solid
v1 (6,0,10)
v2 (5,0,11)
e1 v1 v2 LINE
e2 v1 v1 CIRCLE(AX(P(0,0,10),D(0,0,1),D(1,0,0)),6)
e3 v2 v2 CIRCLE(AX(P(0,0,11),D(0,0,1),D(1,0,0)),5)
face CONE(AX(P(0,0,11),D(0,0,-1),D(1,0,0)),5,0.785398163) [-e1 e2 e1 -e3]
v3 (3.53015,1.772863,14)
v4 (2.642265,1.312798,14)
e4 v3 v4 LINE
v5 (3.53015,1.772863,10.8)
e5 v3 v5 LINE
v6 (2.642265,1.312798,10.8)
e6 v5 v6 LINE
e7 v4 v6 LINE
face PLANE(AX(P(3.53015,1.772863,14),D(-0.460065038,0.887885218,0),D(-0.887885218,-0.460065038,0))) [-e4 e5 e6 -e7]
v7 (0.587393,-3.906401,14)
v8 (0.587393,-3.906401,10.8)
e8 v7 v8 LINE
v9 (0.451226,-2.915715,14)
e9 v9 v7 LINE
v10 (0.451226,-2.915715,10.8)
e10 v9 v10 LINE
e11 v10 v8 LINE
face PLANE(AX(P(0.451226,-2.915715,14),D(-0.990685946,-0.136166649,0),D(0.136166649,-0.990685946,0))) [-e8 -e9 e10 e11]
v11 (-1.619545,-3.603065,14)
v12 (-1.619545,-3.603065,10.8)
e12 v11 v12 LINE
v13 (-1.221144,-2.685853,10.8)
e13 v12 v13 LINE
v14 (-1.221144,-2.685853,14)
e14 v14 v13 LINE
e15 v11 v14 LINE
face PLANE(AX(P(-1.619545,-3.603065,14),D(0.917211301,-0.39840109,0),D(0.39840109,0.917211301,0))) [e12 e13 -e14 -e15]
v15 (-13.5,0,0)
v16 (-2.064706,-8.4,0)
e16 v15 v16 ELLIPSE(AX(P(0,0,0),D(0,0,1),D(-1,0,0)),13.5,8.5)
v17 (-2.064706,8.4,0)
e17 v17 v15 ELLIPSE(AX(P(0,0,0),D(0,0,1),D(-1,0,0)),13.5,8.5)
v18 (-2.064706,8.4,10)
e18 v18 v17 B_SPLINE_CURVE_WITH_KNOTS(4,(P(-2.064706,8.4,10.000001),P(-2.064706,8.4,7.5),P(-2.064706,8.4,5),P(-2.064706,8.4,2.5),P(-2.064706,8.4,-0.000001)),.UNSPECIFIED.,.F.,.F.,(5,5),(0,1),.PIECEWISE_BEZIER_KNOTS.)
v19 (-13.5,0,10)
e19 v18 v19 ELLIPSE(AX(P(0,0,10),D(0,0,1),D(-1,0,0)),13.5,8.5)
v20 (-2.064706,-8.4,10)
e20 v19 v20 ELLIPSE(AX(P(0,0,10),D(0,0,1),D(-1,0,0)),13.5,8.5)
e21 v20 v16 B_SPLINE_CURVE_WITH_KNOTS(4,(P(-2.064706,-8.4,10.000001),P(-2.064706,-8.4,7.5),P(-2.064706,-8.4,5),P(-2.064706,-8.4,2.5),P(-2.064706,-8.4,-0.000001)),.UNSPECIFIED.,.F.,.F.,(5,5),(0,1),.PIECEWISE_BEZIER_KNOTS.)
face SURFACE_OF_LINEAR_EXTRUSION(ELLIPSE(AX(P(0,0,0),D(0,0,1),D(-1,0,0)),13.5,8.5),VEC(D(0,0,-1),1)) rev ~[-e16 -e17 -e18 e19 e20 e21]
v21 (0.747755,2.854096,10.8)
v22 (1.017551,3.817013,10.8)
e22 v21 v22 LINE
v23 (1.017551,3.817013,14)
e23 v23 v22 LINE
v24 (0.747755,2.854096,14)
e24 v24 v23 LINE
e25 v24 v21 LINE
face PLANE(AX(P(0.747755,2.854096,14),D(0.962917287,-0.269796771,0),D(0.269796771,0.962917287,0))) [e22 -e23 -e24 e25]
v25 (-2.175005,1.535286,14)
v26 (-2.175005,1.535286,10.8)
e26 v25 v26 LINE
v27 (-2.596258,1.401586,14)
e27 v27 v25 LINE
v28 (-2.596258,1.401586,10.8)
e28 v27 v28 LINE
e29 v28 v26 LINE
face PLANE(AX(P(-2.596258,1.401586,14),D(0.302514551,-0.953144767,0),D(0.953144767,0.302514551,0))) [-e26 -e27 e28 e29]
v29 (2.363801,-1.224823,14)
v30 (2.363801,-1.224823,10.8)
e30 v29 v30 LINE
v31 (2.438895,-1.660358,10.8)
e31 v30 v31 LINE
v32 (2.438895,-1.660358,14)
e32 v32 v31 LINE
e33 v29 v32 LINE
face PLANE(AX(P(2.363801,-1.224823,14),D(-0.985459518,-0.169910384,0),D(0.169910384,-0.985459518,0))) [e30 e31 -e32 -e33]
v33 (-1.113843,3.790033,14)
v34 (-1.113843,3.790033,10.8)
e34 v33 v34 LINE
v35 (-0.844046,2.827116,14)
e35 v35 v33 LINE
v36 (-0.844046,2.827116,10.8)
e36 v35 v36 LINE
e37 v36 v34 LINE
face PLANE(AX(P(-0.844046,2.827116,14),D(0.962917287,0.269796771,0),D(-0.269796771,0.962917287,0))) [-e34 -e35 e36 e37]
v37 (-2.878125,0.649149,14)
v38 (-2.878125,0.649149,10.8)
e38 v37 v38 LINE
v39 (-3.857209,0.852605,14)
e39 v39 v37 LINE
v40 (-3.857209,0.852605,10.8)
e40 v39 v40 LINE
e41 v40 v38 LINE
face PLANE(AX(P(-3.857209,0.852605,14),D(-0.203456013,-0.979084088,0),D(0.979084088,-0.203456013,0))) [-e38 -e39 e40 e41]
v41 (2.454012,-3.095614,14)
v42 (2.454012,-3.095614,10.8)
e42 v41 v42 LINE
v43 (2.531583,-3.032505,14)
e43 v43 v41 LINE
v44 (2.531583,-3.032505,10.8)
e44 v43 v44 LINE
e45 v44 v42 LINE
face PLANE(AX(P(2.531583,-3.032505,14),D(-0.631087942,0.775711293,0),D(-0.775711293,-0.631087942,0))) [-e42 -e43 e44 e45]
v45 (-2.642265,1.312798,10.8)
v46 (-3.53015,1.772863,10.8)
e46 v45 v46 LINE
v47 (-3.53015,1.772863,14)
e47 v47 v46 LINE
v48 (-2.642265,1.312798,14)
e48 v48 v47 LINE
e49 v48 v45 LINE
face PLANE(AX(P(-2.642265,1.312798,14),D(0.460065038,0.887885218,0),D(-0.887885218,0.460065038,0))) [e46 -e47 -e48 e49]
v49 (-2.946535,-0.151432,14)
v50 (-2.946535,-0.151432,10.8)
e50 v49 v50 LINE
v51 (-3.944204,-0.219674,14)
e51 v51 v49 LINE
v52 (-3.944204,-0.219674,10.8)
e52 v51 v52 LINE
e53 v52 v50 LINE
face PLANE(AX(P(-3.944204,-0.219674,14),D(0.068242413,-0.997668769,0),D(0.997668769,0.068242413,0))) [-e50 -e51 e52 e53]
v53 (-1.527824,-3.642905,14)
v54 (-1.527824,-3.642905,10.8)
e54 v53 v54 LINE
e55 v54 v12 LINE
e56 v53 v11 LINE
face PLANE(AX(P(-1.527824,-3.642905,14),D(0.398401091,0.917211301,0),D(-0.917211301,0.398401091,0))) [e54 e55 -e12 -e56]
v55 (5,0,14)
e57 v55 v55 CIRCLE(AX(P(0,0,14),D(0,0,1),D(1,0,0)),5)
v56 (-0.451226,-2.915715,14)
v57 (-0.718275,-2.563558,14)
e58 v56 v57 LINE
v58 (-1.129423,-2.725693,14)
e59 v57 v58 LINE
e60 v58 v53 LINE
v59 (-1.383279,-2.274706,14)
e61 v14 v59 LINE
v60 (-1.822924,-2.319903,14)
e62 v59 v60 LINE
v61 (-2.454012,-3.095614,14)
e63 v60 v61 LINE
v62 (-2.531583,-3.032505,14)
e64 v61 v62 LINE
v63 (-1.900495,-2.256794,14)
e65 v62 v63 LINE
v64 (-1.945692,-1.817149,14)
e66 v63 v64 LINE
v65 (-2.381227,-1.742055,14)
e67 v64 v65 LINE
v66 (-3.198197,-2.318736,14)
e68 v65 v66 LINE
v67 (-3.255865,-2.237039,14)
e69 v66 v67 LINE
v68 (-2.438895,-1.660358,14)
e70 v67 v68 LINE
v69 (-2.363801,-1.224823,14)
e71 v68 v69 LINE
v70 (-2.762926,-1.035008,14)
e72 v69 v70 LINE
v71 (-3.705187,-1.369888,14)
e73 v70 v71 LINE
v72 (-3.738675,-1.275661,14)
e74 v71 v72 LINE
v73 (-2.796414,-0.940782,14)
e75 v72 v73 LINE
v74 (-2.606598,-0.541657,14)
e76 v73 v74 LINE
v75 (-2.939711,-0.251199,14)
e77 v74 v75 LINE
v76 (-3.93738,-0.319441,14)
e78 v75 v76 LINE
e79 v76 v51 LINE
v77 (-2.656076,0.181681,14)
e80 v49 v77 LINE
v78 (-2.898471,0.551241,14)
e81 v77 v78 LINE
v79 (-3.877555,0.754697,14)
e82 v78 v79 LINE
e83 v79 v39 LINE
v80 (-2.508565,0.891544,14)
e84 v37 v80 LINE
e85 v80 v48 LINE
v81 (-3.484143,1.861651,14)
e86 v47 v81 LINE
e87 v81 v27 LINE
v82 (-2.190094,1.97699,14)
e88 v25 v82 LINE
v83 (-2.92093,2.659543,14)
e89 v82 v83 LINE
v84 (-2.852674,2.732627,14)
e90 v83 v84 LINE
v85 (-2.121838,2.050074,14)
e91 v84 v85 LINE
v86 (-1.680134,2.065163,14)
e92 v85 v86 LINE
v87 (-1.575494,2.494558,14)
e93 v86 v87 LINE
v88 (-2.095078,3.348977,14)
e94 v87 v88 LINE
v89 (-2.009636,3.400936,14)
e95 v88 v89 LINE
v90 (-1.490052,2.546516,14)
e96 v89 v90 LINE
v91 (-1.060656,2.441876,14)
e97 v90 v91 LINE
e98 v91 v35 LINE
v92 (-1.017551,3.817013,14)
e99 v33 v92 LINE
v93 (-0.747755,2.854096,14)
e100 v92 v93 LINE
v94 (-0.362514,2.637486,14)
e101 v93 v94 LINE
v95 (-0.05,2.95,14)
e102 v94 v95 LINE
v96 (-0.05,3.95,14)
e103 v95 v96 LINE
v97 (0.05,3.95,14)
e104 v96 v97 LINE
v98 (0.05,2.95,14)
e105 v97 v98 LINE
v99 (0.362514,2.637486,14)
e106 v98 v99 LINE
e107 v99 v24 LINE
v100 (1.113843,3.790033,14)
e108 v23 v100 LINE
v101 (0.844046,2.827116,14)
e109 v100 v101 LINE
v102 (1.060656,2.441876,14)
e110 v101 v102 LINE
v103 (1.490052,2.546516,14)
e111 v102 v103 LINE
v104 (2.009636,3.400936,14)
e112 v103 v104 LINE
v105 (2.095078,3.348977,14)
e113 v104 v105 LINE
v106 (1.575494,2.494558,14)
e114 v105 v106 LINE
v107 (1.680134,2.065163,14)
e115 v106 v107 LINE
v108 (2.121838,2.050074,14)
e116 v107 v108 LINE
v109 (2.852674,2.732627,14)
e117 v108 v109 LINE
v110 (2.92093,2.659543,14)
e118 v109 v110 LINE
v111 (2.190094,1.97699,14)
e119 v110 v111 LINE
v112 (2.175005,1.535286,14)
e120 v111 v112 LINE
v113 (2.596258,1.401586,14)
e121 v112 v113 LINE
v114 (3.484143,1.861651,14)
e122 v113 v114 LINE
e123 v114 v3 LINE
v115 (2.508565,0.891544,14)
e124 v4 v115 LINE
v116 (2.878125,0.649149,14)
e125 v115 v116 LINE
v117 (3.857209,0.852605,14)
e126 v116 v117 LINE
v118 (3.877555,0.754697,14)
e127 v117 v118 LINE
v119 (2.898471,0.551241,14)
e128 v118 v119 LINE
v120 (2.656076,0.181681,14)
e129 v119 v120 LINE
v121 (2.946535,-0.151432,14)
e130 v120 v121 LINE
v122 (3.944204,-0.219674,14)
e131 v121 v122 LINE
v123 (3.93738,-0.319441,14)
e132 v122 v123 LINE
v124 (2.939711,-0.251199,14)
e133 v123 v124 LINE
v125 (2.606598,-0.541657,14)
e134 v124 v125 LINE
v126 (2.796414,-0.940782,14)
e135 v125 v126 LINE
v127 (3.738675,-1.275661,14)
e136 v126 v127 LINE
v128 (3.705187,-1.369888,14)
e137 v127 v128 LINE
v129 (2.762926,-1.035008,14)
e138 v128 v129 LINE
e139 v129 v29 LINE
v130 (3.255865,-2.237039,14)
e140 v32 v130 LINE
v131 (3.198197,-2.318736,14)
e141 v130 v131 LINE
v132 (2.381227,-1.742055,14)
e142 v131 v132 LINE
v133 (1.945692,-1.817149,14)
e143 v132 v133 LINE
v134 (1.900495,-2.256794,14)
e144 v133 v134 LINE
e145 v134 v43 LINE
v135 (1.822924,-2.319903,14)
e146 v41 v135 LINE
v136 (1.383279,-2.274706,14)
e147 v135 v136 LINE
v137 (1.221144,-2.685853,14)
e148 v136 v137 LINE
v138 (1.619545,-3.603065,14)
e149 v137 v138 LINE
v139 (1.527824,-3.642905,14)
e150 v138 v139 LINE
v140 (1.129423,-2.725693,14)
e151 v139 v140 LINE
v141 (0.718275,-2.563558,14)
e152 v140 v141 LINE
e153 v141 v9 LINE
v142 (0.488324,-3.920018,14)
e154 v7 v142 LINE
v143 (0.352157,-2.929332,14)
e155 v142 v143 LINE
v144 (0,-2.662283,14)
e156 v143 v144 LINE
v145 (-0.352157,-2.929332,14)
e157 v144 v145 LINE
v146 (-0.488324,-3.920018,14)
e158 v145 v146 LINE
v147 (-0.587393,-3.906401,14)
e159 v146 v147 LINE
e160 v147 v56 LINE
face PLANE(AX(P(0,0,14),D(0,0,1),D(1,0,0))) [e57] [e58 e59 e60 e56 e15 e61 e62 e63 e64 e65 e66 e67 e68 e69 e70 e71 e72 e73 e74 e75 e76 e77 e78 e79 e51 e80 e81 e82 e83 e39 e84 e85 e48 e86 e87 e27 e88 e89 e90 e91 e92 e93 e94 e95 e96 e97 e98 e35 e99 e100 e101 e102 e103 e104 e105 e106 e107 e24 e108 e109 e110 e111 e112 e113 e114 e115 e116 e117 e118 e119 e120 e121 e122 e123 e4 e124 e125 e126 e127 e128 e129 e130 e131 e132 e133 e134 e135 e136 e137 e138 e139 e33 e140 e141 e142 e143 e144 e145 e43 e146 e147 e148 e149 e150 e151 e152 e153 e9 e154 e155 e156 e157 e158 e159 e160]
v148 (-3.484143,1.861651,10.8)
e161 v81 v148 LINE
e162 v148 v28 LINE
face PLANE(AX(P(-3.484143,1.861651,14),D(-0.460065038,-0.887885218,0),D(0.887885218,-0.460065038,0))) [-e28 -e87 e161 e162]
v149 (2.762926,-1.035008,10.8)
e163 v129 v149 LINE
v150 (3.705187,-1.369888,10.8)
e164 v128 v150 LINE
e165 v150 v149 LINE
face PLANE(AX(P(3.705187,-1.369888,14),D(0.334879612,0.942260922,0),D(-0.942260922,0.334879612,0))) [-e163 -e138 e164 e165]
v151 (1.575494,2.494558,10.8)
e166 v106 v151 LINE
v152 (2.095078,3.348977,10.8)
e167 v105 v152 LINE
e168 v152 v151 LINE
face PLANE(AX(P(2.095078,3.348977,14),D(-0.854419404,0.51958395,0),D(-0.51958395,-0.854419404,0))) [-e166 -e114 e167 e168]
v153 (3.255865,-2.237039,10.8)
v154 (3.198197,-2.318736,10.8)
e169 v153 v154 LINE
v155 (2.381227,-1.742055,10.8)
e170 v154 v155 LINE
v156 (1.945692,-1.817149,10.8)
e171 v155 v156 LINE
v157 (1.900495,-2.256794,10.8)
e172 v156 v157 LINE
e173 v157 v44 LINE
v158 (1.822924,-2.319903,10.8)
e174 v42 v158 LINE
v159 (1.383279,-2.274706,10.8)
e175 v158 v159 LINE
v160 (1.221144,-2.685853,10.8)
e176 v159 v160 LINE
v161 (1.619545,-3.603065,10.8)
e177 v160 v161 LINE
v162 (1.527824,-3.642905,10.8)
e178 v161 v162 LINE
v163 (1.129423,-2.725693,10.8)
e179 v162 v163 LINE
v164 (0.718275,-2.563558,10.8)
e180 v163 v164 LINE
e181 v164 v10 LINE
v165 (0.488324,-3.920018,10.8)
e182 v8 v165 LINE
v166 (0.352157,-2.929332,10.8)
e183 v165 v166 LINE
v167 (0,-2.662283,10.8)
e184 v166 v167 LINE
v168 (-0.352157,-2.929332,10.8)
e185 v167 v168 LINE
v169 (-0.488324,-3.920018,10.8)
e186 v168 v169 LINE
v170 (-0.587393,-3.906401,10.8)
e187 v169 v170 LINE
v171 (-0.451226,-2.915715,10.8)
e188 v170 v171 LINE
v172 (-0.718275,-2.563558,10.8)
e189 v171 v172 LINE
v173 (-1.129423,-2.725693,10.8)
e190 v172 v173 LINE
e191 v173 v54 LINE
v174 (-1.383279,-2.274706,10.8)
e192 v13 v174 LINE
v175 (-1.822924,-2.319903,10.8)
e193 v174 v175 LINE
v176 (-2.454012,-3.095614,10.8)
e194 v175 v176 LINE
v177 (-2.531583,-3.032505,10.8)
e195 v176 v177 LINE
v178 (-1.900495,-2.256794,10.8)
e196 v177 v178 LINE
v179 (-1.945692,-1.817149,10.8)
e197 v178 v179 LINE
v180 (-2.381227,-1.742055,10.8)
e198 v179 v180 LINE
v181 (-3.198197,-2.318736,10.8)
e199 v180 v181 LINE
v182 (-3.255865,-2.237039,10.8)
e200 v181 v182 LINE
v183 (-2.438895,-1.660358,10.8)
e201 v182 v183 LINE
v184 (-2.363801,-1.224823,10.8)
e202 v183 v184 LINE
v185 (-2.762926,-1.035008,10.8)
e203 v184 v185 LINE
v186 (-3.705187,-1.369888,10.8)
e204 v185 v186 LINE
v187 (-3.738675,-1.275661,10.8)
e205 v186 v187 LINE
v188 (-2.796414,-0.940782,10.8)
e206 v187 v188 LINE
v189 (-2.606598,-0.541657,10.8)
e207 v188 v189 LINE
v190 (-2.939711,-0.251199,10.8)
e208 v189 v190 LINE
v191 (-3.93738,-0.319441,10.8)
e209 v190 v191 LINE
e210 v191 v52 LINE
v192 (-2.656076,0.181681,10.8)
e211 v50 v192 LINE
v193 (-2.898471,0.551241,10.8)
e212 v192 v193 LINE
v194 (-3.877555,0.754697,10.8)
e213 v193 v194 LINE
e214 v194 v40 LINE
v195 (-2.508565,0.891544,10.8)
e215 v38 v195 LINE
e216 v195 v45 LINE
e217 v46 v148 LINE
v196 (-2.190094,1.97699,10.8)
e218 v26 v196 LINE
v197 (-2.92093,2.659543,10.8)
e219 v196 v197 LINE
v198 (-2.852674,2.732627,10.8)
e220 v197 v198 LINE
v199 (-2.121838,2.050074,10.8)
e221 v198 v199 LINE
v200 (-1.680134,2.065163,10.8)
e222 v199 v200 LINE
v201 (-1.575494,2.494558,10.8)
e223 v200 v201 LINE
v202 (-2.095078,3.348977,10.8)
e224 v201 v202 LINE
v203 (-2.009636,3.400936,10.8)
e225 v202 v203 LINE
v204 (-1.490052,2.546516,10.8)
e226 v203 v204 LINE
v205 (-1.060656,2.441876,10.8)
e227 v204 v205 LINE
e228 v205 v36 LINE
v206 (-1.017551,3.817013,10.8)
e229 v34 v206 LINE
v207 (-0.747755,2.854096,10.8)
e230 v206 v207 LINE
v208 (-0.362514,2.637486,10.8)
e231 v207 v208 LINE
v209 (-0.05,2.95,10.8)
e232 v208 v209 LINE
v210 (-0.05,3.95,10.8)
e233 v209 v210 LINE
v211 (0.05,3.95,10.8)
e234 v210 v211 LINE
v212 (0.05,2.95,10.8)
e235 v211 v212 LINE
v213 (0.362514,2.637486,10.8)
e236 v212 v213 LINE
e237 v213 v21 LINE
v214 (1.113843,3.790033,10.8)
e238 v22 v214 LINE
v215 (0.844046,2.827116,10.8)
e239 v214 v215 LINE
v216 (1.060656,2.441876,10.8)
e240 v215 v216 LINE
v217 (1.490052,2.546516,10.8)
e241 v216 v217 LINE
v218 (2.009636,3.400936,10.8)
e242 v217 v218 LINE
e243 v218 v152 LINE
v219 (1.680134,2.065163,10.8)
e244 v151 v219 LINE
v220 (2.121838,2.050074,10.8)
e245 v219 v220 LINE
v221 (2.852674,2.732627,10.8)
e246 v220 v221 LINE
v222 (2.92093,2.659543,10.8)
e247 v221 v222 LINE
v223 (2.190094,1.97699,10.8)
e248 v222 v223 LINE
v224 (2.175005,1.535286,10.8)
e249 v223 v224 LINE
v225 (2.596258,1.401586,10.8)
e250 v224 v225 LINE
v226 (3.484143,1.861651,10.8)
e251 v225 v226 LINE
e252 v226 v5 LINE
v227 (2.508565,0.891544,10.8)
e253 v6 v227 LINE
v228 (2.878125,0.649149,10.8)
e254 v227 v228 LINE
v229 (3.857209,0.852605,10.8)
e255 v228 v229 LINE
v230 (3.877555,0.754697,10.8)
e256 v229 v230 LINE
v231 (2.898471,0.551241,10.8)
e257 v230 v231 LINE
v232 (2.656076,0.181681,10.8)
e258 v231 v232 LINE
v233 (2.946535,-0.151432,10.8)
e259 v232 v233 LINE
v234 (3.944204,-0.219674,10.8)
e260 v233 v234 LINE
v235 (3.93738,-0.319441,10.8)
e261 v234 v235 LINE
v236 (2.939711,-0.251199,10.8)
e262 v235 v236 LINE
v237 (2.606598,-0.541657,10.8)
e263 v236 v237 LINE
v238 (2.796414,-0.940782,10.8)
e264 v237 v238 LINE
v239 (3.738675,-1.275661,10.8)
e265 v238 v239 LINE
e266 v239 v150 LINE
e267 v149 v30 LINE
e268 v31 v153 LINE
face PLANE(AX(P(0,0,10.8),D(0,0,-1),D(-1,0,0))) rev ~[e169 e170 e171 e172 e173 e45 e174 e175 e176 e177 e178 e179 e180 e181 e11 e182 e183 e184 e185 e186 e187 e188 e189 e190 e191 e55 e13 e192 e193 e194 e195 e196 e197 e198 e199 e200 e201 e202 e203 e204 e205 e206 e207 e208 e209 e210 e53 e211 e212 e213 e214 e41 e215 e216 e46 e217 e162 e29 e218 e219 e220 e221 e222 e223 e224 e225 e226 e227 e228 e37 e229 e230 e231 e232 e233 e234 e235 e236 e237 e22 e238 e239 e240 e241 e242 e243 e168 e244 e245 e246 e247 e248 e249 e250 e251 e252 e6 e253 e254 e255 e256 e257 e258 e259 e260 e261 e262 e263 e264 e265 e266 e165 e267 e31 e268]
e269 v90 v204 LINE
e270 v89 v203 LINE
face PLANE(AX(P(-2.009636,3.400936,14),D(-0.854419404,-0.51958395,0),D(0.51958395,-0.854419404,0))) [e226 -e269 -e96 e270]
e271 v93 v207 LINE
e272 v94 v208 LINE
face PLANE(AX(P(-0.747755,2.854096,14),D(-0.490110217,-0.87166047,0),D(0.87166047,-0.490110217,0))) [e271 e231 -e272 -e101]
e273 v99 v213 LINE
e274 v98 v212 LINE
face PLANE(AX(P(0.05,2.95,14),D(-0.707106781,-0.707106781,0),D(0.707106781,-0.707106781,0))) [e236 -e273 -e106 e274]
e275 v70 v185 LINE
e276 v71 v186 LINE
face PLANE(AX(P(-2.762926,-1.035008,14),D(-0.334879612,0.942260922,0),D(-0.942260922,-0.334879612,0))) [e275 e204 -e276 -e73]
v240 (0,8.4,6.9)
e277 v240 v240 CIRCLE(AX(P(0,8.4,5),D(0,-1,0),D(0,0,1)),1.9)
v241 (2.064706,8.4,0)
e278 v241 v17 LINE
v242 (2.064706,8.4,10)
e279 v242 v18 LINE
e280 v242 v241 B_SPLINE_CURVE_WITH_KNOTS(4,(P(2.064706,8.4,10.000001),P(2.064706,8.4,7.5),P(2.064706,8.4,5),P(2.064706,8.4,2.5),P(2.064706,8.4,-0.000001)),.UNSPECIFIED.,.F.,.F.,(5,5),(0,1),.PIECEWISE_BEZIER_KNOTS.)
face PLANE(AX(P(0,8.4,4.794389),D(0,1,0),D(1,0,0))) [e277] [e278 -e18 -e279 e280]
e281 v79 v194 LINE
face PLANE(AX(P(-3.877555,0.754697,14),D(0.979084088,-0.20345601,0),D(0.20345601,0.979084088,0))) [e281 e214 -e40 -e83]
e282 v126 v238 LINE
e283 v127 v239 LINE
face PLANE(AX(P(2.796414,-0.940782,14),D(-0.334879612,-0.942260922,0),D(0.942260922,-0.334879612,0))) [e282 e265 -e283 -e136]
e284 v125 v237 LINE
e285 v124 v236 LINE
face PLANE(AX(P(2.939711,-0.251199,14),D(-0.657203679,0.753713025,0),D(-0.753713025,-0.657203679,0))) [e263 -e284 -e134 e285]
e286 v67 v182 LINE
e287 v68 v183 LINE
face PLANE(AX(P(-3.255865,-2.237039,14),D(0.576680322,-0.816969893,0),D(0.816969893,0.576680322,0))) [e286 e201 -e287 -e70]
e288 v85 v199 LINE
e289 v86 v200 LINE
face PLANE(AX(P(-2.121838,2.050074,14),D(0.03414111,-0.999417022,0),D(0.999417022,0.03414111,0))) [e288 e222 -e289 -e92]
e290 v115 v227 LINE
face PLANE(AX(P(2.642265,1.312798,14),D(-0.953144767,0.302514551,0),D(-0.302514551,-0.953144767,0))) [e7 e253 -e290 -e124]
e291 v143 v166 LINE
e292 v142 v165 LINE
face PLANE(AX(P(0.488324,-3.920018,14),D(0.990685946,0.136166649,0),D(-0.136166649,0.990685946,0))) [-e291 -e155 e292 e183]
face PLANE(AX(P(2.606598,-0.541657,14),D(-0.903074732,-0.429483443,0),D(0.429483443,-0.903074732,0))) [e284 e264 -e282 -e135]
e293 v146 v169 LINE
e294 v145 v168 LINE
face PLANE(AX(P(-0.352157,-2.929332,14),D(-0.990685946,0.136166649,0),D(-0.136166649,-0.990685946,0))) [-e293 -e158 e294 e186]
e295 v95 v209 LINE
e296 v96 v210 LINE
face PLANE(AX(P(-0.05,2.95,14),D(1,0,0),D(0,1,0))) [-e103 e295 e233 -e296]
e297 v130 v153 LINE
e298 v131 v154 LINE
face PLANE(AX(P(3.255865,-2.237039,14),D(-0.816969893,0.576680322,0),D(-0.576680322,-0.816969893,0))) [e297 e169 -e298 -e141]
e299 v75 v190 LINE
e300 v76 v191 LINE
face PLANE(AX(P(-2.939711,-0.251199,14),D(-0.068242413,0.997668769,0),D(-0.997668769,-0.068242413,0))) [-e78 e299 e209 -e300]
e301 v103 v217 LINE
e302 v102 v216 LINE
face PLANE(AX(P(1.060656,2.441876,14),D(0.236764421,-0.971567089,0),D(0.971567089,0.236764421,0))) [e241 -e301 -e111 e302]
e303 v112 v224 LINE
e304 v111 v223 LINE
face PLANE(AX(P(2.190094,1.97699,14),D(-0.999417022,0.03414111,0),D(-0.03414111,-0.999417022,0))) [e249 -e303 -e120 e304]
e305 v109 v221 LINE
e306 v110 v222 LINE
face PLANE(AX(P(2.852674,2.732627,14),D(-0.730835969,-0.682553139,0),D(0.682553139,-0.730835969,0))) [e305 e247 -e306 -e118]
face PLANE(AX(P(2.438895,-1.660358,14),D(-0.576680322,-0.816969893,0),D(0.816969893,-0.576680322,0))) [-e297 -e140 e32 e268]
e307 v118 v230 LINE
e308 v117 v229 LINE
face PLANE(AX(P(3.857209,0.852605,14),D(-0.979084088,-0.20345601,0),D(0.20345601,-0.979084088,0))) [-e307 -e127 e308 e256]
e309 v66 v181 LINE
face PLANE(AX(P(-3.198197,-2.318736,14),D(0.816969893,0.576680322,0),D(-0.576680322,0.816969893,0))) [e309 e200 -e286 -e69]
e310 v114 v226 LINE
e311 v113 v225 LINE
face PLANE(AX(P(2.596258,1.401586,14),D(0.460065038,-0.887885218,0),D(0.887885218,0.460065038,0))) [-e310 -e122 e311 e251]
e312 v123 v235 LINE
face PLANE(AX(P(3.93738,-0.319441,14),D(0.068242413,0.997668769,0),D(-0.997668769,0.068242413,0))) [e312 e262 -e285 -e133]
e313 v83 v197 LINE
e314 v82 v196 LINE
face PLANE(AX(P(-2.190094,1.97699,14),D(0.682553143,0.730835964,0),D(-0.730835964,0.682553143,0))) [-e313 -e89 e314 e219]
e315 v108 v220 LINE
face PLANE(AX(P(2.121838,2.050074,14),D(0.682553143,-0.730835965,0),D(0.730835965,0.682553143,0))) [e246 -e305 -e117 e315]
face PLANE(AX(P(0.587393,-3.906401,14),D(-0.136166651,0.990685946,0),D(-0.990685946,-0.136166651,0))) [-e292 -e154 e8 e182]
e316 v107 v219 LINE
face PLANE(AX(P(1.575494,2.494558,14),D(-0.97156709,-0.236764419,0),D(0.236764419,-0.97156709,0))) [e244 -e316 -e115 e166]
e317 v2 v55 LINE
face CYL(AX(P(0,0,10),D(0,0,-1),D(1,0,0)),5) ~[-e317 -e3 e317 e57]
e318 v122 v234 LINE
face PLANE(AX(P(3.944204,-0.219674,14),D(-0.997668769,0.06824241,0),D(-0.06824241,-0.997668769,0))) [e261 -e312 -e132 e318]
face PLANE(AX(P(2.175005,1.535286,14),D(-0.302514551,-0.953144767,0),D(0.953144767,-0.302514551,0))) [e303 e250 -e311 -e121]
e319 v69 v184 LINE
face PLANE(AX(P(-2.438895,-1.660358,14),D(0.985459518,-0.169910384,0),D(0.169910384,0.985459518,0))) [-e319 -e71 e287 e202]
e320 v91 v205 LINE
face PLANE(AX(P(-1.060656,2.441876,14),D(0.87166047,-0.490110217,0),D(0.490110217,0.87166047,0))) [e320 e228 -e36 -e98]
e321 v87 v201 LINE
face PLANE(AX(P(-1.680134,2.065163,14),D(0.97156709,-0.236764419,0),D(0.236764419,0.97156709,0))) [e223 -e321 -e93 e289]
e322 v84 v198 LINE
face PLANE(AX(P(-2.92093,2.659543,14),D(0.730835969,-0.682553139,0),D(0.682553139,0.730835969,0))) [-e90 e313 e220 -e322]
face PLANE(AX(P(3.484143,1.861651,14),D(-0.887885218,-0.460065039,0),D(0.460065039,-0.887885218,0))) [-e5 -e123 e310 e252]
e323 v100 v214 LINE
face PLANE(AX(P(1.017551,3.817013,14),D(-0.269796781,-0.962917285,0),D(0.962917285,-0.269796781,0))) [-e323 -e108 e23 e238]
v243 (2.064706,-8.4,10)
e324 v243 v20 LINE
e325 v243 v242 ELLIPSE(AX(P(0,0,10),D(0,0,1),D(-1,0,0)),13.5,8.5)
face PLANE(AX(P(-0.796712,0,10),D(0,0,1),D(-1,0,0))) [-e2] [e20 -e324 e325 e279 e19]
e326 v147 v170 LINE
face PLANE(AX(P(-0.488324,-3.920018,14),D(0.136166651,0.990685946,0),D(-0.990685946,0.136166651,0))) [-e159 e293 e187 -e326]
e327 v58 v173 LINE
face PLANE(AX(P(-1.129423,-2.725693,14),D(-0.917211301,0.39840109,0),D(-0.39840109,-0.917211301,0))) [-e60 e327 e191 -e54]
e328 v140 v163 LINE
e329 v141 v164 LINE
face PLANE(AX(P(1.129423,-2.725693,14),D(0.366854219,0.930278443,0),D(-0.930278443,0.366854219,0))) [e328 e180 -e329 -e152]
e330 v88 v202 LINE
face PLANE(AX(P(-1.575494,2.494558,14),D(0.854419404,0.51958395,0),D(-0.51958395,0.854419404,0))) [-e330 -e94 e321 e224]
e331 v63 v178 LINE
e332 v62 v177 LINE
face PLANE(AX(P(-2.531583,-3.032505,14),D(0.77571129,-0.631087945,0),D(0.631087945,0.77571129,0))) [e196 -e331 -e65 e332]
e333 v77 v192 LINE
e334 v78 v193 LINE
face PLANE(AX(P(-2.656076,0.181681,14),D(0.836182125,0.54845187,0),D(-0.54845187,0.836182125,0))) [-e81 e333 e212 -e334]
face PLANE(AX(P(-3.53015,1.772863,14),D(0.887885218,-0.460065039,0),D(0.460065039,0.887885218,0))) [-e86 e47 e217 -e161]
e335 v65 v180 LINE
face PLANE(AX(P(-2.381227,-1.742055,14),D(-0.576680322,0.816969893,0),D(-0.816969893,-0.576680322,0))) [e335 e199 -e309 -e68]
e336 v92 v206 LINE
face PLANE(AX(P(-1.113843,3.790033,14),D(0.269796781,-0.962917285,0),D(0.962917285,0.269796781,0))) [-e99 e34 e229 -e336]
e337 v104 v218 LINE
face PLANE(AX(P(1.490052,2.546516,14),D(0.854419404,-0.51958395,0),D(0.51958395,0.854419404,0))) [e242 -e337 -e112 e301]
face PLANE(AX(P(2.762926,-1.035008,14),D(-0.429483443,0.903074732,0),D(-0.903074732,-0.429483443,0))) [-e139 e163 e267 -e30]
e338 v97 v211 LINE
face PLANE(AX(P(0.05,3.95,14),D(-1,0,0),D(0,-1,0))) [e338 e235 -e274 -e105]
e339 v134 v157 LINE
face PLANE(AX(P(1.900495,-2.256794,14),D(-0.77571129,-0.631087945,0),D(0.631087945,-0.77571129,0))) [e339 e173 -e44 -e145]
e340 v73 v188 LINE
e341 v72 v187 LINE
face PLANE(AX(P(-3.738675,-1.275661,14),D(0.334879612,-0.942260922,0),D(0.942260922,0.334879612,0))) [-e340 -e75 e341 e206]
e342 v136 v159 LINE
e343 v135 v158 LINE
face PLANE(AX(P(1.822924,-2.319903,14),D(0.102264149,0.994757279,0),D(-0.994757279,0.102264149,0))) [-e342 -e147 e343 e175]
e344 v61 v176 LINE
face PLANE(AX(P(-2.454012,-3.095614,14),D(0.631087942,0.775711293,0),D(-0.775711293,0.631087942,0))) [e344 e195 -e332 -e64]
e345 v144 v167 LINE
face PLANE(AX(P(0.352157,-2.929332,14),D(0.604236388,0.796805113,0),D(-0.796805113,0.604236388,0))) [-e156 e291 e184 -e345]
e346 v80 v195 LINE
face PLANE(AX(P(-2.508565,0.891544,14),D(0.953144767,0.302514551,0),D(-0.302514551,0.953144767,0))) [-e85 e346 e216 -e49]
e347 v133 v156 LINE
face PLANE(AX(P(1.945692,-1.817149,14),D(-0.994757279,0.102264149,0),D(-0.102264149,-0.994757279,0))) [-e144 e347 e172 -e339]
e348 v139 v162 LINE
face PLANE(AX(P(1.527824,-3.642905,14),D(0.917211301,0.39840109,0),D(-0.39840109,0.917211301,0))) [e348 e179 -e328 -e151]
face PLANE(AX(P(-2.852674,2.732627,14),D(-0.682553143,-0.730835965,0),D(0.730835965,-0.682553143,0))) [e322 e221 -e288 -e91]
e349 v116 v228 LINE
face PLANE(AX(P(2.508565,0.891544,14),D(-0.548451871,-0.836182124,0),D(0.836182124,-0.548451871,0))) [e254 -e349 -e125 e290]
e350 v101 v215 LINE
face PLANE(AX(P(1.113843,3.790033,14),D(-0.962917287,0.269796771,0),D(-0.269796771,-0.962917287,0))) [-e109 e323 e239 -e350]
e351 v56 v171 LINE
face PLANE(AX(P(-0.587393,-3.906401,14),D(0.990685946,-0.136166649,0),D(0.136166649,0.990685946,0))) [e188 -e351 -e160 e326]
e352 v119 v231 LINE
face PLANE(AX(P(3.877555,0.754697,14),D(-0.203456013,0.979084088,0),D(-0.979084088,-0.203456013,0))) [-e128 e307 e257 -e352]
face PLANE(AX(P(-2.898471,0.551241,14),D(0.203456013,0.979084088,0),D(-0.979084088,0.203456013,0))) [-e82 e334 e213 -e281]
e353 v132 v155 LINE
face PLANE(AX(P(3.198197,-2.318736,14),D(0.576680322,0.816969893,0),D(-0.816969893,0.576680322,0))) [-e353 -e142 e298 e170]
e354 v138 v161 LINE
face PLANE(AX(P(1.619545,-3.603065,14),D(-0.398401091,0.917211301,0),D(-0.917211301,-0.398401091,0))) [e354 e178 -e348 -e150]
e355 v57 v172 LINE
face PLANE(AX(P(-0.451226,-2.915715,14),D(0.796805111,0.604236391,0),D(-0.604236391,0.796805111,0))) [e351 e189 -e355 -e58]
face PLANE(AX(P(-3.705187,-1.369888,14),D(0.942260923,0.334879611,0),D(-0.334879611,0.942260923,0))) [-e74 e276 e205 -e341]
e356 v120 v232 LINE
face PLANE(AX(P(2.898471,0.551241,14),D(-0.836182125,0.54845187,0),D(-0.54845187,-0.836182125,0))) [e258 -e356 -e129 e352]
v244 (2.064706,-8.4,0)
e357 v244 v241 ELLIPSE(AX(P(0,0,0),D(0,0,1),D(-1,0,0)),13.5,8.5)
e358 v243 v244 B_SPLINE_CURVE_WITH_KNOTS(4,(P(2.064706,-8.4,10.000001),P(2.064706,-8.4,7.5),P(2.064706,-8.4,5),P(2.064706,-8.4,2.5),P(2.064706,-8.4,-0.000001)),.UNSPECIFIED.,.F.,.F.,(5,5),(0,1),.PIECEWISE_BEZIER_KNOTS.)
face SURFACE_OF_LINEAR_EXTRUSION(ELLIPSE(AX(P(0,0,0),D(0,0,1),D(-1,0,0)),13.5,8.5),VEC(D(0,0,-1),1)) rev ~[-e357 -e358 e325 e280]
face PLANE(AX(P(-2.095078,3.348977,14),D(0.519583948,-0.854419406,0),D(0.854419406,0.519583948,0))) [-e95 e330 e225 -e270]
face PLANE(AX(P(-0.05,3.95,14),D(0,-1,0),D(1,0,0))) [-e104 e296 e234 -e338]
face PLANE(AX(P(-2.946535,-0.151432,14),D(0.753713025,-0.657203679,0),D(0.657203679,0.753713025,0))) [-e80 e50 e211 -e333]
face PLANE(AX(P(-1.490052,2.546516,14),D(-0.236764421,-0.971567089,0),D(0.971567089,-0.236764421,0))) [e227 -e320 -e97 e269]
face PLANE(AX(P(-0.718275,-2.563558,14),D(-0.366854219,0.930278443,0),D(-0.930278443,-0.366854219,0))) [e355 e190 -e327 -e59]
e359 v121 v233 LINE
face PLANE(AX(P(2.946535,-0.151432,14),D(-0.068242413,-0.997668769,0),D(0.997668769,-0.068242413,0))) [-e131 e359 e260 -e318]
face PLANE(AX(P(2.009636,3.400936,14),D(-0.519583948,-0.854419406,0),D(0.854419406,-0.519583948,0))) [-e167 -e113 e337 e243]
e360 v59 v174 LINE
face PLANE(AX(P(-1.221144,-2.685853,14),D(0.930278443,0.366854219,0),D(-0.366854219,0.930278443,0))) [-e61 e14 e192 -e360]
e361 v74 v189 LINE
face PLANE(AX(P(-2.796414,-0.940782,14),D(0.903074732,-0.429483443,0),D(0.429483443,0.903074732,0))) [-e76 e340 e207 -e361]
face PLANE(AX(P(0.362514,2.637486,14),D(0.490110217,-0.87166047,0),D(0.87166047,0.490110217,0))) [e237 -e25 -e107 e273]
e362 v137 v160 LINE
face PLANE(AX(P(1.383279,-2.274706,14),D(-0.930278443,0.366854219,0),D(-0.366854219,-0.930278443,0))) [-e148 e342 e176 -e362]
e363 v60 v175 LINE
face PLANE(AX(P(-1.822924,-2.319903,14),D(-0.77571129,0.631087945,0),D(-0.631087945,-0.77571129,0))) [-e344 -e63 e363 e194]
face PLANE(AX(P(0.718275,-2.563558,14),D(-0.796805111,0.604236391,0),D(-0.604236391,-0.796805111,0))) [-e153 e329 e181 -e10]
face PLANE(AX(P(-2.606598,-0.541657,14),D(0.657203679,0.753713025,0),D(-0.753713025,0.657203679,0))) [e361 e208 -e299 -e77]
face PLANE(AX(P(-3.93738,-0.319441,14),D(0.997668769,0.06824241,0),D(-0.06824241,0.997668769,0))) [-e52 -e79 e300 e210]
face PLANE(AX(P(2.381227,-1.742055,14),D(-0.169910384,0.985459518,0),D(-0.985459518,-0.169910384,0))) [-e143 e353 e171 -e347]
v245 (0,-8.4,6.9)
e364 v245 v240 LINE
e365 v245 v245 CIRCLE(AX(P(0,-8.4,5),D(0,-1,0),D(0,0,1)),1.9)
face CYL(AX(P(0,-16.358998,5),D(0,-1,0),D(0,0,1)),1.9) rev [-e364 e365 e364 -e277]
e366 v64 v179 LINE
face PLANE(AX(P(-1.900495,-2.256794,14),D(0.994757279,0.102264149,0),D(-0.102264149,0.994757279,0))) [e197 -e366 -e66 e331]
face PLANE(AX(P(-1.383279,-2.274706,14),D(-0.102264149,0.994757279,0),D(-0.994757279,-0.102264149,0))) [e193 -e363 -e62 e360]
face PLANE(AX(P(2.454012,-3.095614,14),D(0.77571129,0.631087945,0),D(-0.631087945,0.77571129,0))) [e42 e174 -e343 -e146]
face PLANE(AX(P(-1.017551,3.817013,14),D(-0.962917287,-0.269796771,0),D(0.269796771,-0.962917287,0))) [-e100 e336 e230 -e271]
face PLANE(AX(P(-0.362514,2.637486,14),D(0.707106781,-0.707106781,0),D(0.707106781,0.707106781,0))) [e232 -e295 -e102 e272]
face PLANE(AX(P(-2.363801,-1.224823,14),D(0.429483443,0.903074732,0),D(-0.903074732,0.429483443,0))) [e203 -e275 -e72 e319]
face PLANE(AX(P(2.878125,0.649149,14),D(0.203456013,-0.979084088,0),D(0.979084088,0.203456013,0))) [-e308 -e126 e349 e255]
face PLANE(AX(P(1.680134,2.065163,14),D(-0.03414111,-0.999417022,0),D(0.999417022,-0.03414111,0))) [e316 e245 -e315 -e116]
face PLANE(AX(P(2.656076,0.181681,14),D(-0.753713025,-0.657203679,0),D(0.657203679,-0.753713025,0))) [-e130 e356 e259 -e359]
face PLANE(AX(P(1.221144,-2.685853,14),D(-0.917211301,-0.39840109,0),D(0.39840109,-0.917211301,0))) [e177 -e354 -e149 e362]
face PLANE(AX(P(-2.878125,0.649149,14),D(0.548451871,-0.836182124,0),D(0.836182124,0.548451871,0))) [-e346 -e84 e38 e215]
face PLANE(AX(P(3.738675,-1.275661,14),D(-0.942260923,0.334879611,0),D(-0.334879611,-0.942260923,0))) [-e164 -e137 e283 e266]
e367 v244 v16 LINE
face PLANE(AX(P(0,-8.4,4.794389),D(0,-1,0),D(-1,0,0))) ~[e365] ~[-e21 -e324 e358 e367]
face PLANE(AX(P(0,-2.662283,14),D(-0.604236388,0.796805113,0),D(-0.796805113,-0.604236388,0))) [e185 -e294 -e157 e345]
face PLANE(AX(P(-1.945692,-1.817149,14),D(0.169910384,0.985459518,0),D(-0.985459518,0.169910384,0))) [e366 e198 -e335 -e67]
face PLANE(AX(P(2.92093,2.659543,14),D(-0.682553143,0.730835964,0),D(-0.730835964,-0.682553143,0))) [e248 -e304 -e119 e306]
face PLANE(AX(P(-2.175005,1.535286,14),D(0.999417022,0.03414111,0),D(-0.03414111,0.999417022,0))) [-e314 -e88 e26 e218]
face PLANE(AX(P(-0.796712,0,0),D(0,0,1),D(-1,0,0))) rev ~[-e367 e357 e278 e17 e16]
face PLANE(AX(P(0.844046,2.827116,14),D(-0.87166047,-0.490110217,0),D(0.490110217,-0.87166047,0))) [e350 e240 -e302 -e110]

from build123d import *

# Parameters (mm, degrees)
SKETCH_1_RX              = 13.5
SKETCH_1_RY              = 8.5
EXTRUDE_1_DEPTH          = 10
CUT_EXTRUDE_START        = 18.4
SKETCH_2_W               = 5
SKETCH_2_H               = 16.987350845
CUT_EXTRUDE_2_DEPTH      = 10
CUT_EXTRUDE_3_DEPTH      = 24.758998465
CUT_EXTRUDE_3_DEPTH_BACK = 24.758998465
SKETCH_3_R               = 1.9
SKETCH_6_R               = 5
EXTRUDE_3_DEPTH          = 4
CUT_EXTRUDE_5_DEPTH      = 3.2
CHAMFER_1_SIZE           = 1


with BuildPart() as part:
    # ｽｹｯﾁ1 → ﾎﾞｽ - 押し出し1 (new body)
    with BuildSketch(Plane.XY):
        with Locations(Location((0, 0), (0, 0, 180))):
            Ellipse(SKETCH_1_RX, SKETCH_1_RY)
    extrude(amount=EXTRUDE_1_DEPTH)

    # ｽｹｯﾁ2 → ｶｯﾄ - 押し出し2 (cut)
    with BuildSketch(Plane(origin=(0, 0, 0), x_dir=(1, 0, 0), z_dir=(0, 1, 0)).offset(CUT_EXTRUDE_START)):
        with Locations((0, -4.794388707)):
            Rectangle(SKETCH_2_W, SKETCH_2_H)
    cut_extrude_2 = extrude(amount=-CUT_EXTRUDE_2_DEPTH, mode=Mode.SUBTRACT)

    # ﾐﾗｰ1: ｶｯﾄ - 押し出し2 across plane
    add(cut_extrude_2.mirror(Plane.ZX), mode=Mode.SUBTRACT)

    # ｽｹｯﾁ3 → ｶｯﾄ - 押し出し3 (cut, two sides: drawn at the far end of the back side and taken through both)
    with BuildSketch(Plane(origin=(0, 8.4, 0), x_dir=(1, 0, 0), z_dir=(0, 1, 0)).offset(-CUT_EXTRUDE_3_DEPTH_BACK)):
        with Locations(Location((0, -5, 0), (0, 0, 270))):
            Circle(SKETCH_3_R)
    extrude(amount=CUT_EXTRUDE_3_DEPTH + CUT_EXTRUDE_3_DEPTH_BACK, mode=Mode.SUBTRACT)

    # ｽｹｯﾁ6 → ﾎﾞｽ - 押し出し3 (add)
    with BuildSketch(Plane.XY.offset(10)):
        Circle(SKETCH_6_R)
    extrude(amount=EXTRUDE_3_DEPTH)

    # ｽｹｯﾁ5 → ｶｯﾄ - 押し出し5 (cut)
    with BuildSketch(Plane.XY.offset(14)):
        Polygon((-0.05, 2.95), (-0.05, 3.95), (0.05, 3.95), (0.05, 2.95), (0.362514094, 2.637485906), (0.747754611, 2.854095836), (1.017551382, 3.817013124), (1.11384311, 3.790033446), (0.844046339, 2.827116159), (1.060656269, 2.441875642), (1.490051682, 2.546516441), (2.009635632, 3.400935845), (2.095077573, 3.34897745), (1.575493623, 2.494558046), (1.680134421, 2.065162633), (2.121838437, 2.050073571), (2.852674402, 2.732626714), (2.920929716, 2.659543117), (2.190093752, 1.976989974), (2.17500469, 1.535285958), (2.596258142, 1.401586122), (3.484143361, 1.86165116), (3.530149865, 1.772862638), (2.642264646, 1.3127976), (2.50856481, 0.891544148), (2.878125258, 0.649149443), (3.857209346, 0.852605456), (3.877554947, 0.754697047), (2.898470859, 0.551241034), (2.656076155, 0.181680586), (2.94653499, -0.151431681), (3.944203759, -0.219674094), (3.937379518, -0.319440971), (2.939710748, -0.251198558), (2.606598481, -0.541657393), (2.796413701, -0.94078181), (3.738674623, -1.275661422), (3.705186662, -1.369887514), (2.76292574, -1.035007902), (2.363801323, -1.224823122), (2.4388952, -1.660358456), (3.255865093, -2.237038778), (3.198197061, -2.318735767), (2.381227168, -1.742055445), (1.945691834, -1.817149322), (1.900495, -2.25679391), (2.531582945, -3.032505201), (2.454011816, -3.095613995), (1.822923871, -2.319902705), (1.383279283, -2.274705871), (1.22114378, -2.685853285), (1.61954487, -3.603064586), (1.52782374, -3.642904695), (1.12942265, -2.725693394), (0.718275236, -2.563557891), (0.451225912, -2.915715208), (0.587392561, -3.906401154), (0.488323967, -3.920017819), (0.352157318, -2.929331873), (0, -2.66228255), (-0.352157318, -2.929331873), (-0.488323967, -3.920017819), (-0.587392561, -3.906401154), (-0.451225912, -2.915715208), (-0.718275236, -2.563557891), (-1.12942265, -2.725693394), (-1.52782374, -3.642904695), (-1.61954487, -3.603064586), (-1.22114378, -2.685853285), (-1.383279283, -2.274705871), (-1.822923871, -2.319902705), (-2.454011816, -3.095613995), (-2.531582945, -3.032505201), (-1.900495, -2.25679391), (-1.945691834, -1.817149322), (-2.381227168, -1.742055445), (-3.198197061, -2.318735767), (-3.255865093, -2.237038778), (-2.4388952, -1.660358456), (-2.363801323, -1.224823122), (-2.76292574, -1.035007902), (-3.705186662, -1.369887514), (-3.738674623, -1.275661422), (-2.796413701, -0.94078181), (-2.606598481, -0.541657393), (-2.939710748, -0.251198558), (-3.937379518, -0.319440971), (-3.944203759, -0.219674094), (-2.94653499, -0.151431681), (-2.656076155, 0.181680586), (-2.898470859, 0.551241034), (-3.877554947, 0.754697047), (-3.857209346, 0.852605456), (-2.878125258, 0.649149443), (-2.50856481, 0.891544148), (-2.642264646, 1.3127976), (-3.530149865, 1.772862638), (-3.484143361, 1.86165116), (-2.596258142, 1.401586122), (-2.17500469, 1.535285958), (-2.190093752, 1.976989974), (-2.920929716, 2.659543117), (-2.852674402, 2.732626714), (-2.121838437, 2.050073571), (-1.680134421, 2.065162633), (-1.575493623, 2.494558046), (-2.095077573, 3.34897745), (-2.009635632, 3.400935845), (-1.490051682, 2.546516441), (-1.060656269, 2.441875642), (-0.844046339, 2.827116159), (-1.11384311, 3.790033446), (-1.017551382, 3.817013124), (-0.747754611, 2.854095836), (-0.362514094, 2.637485906), align=None)
    extrude(amount=-CUT_EXTRUDE_5_DEPTH, mode=Mode.SUBTRACT)

    # 面取り1
    chamfer_1_edges = [part.edges().sort_by_distance(p)[0] for p in [
        (-5, 0, 10),
    ]]
    chamfer(chamfer_1_edges, length=CHAMFER_1_SIZE)


solid = part.part
